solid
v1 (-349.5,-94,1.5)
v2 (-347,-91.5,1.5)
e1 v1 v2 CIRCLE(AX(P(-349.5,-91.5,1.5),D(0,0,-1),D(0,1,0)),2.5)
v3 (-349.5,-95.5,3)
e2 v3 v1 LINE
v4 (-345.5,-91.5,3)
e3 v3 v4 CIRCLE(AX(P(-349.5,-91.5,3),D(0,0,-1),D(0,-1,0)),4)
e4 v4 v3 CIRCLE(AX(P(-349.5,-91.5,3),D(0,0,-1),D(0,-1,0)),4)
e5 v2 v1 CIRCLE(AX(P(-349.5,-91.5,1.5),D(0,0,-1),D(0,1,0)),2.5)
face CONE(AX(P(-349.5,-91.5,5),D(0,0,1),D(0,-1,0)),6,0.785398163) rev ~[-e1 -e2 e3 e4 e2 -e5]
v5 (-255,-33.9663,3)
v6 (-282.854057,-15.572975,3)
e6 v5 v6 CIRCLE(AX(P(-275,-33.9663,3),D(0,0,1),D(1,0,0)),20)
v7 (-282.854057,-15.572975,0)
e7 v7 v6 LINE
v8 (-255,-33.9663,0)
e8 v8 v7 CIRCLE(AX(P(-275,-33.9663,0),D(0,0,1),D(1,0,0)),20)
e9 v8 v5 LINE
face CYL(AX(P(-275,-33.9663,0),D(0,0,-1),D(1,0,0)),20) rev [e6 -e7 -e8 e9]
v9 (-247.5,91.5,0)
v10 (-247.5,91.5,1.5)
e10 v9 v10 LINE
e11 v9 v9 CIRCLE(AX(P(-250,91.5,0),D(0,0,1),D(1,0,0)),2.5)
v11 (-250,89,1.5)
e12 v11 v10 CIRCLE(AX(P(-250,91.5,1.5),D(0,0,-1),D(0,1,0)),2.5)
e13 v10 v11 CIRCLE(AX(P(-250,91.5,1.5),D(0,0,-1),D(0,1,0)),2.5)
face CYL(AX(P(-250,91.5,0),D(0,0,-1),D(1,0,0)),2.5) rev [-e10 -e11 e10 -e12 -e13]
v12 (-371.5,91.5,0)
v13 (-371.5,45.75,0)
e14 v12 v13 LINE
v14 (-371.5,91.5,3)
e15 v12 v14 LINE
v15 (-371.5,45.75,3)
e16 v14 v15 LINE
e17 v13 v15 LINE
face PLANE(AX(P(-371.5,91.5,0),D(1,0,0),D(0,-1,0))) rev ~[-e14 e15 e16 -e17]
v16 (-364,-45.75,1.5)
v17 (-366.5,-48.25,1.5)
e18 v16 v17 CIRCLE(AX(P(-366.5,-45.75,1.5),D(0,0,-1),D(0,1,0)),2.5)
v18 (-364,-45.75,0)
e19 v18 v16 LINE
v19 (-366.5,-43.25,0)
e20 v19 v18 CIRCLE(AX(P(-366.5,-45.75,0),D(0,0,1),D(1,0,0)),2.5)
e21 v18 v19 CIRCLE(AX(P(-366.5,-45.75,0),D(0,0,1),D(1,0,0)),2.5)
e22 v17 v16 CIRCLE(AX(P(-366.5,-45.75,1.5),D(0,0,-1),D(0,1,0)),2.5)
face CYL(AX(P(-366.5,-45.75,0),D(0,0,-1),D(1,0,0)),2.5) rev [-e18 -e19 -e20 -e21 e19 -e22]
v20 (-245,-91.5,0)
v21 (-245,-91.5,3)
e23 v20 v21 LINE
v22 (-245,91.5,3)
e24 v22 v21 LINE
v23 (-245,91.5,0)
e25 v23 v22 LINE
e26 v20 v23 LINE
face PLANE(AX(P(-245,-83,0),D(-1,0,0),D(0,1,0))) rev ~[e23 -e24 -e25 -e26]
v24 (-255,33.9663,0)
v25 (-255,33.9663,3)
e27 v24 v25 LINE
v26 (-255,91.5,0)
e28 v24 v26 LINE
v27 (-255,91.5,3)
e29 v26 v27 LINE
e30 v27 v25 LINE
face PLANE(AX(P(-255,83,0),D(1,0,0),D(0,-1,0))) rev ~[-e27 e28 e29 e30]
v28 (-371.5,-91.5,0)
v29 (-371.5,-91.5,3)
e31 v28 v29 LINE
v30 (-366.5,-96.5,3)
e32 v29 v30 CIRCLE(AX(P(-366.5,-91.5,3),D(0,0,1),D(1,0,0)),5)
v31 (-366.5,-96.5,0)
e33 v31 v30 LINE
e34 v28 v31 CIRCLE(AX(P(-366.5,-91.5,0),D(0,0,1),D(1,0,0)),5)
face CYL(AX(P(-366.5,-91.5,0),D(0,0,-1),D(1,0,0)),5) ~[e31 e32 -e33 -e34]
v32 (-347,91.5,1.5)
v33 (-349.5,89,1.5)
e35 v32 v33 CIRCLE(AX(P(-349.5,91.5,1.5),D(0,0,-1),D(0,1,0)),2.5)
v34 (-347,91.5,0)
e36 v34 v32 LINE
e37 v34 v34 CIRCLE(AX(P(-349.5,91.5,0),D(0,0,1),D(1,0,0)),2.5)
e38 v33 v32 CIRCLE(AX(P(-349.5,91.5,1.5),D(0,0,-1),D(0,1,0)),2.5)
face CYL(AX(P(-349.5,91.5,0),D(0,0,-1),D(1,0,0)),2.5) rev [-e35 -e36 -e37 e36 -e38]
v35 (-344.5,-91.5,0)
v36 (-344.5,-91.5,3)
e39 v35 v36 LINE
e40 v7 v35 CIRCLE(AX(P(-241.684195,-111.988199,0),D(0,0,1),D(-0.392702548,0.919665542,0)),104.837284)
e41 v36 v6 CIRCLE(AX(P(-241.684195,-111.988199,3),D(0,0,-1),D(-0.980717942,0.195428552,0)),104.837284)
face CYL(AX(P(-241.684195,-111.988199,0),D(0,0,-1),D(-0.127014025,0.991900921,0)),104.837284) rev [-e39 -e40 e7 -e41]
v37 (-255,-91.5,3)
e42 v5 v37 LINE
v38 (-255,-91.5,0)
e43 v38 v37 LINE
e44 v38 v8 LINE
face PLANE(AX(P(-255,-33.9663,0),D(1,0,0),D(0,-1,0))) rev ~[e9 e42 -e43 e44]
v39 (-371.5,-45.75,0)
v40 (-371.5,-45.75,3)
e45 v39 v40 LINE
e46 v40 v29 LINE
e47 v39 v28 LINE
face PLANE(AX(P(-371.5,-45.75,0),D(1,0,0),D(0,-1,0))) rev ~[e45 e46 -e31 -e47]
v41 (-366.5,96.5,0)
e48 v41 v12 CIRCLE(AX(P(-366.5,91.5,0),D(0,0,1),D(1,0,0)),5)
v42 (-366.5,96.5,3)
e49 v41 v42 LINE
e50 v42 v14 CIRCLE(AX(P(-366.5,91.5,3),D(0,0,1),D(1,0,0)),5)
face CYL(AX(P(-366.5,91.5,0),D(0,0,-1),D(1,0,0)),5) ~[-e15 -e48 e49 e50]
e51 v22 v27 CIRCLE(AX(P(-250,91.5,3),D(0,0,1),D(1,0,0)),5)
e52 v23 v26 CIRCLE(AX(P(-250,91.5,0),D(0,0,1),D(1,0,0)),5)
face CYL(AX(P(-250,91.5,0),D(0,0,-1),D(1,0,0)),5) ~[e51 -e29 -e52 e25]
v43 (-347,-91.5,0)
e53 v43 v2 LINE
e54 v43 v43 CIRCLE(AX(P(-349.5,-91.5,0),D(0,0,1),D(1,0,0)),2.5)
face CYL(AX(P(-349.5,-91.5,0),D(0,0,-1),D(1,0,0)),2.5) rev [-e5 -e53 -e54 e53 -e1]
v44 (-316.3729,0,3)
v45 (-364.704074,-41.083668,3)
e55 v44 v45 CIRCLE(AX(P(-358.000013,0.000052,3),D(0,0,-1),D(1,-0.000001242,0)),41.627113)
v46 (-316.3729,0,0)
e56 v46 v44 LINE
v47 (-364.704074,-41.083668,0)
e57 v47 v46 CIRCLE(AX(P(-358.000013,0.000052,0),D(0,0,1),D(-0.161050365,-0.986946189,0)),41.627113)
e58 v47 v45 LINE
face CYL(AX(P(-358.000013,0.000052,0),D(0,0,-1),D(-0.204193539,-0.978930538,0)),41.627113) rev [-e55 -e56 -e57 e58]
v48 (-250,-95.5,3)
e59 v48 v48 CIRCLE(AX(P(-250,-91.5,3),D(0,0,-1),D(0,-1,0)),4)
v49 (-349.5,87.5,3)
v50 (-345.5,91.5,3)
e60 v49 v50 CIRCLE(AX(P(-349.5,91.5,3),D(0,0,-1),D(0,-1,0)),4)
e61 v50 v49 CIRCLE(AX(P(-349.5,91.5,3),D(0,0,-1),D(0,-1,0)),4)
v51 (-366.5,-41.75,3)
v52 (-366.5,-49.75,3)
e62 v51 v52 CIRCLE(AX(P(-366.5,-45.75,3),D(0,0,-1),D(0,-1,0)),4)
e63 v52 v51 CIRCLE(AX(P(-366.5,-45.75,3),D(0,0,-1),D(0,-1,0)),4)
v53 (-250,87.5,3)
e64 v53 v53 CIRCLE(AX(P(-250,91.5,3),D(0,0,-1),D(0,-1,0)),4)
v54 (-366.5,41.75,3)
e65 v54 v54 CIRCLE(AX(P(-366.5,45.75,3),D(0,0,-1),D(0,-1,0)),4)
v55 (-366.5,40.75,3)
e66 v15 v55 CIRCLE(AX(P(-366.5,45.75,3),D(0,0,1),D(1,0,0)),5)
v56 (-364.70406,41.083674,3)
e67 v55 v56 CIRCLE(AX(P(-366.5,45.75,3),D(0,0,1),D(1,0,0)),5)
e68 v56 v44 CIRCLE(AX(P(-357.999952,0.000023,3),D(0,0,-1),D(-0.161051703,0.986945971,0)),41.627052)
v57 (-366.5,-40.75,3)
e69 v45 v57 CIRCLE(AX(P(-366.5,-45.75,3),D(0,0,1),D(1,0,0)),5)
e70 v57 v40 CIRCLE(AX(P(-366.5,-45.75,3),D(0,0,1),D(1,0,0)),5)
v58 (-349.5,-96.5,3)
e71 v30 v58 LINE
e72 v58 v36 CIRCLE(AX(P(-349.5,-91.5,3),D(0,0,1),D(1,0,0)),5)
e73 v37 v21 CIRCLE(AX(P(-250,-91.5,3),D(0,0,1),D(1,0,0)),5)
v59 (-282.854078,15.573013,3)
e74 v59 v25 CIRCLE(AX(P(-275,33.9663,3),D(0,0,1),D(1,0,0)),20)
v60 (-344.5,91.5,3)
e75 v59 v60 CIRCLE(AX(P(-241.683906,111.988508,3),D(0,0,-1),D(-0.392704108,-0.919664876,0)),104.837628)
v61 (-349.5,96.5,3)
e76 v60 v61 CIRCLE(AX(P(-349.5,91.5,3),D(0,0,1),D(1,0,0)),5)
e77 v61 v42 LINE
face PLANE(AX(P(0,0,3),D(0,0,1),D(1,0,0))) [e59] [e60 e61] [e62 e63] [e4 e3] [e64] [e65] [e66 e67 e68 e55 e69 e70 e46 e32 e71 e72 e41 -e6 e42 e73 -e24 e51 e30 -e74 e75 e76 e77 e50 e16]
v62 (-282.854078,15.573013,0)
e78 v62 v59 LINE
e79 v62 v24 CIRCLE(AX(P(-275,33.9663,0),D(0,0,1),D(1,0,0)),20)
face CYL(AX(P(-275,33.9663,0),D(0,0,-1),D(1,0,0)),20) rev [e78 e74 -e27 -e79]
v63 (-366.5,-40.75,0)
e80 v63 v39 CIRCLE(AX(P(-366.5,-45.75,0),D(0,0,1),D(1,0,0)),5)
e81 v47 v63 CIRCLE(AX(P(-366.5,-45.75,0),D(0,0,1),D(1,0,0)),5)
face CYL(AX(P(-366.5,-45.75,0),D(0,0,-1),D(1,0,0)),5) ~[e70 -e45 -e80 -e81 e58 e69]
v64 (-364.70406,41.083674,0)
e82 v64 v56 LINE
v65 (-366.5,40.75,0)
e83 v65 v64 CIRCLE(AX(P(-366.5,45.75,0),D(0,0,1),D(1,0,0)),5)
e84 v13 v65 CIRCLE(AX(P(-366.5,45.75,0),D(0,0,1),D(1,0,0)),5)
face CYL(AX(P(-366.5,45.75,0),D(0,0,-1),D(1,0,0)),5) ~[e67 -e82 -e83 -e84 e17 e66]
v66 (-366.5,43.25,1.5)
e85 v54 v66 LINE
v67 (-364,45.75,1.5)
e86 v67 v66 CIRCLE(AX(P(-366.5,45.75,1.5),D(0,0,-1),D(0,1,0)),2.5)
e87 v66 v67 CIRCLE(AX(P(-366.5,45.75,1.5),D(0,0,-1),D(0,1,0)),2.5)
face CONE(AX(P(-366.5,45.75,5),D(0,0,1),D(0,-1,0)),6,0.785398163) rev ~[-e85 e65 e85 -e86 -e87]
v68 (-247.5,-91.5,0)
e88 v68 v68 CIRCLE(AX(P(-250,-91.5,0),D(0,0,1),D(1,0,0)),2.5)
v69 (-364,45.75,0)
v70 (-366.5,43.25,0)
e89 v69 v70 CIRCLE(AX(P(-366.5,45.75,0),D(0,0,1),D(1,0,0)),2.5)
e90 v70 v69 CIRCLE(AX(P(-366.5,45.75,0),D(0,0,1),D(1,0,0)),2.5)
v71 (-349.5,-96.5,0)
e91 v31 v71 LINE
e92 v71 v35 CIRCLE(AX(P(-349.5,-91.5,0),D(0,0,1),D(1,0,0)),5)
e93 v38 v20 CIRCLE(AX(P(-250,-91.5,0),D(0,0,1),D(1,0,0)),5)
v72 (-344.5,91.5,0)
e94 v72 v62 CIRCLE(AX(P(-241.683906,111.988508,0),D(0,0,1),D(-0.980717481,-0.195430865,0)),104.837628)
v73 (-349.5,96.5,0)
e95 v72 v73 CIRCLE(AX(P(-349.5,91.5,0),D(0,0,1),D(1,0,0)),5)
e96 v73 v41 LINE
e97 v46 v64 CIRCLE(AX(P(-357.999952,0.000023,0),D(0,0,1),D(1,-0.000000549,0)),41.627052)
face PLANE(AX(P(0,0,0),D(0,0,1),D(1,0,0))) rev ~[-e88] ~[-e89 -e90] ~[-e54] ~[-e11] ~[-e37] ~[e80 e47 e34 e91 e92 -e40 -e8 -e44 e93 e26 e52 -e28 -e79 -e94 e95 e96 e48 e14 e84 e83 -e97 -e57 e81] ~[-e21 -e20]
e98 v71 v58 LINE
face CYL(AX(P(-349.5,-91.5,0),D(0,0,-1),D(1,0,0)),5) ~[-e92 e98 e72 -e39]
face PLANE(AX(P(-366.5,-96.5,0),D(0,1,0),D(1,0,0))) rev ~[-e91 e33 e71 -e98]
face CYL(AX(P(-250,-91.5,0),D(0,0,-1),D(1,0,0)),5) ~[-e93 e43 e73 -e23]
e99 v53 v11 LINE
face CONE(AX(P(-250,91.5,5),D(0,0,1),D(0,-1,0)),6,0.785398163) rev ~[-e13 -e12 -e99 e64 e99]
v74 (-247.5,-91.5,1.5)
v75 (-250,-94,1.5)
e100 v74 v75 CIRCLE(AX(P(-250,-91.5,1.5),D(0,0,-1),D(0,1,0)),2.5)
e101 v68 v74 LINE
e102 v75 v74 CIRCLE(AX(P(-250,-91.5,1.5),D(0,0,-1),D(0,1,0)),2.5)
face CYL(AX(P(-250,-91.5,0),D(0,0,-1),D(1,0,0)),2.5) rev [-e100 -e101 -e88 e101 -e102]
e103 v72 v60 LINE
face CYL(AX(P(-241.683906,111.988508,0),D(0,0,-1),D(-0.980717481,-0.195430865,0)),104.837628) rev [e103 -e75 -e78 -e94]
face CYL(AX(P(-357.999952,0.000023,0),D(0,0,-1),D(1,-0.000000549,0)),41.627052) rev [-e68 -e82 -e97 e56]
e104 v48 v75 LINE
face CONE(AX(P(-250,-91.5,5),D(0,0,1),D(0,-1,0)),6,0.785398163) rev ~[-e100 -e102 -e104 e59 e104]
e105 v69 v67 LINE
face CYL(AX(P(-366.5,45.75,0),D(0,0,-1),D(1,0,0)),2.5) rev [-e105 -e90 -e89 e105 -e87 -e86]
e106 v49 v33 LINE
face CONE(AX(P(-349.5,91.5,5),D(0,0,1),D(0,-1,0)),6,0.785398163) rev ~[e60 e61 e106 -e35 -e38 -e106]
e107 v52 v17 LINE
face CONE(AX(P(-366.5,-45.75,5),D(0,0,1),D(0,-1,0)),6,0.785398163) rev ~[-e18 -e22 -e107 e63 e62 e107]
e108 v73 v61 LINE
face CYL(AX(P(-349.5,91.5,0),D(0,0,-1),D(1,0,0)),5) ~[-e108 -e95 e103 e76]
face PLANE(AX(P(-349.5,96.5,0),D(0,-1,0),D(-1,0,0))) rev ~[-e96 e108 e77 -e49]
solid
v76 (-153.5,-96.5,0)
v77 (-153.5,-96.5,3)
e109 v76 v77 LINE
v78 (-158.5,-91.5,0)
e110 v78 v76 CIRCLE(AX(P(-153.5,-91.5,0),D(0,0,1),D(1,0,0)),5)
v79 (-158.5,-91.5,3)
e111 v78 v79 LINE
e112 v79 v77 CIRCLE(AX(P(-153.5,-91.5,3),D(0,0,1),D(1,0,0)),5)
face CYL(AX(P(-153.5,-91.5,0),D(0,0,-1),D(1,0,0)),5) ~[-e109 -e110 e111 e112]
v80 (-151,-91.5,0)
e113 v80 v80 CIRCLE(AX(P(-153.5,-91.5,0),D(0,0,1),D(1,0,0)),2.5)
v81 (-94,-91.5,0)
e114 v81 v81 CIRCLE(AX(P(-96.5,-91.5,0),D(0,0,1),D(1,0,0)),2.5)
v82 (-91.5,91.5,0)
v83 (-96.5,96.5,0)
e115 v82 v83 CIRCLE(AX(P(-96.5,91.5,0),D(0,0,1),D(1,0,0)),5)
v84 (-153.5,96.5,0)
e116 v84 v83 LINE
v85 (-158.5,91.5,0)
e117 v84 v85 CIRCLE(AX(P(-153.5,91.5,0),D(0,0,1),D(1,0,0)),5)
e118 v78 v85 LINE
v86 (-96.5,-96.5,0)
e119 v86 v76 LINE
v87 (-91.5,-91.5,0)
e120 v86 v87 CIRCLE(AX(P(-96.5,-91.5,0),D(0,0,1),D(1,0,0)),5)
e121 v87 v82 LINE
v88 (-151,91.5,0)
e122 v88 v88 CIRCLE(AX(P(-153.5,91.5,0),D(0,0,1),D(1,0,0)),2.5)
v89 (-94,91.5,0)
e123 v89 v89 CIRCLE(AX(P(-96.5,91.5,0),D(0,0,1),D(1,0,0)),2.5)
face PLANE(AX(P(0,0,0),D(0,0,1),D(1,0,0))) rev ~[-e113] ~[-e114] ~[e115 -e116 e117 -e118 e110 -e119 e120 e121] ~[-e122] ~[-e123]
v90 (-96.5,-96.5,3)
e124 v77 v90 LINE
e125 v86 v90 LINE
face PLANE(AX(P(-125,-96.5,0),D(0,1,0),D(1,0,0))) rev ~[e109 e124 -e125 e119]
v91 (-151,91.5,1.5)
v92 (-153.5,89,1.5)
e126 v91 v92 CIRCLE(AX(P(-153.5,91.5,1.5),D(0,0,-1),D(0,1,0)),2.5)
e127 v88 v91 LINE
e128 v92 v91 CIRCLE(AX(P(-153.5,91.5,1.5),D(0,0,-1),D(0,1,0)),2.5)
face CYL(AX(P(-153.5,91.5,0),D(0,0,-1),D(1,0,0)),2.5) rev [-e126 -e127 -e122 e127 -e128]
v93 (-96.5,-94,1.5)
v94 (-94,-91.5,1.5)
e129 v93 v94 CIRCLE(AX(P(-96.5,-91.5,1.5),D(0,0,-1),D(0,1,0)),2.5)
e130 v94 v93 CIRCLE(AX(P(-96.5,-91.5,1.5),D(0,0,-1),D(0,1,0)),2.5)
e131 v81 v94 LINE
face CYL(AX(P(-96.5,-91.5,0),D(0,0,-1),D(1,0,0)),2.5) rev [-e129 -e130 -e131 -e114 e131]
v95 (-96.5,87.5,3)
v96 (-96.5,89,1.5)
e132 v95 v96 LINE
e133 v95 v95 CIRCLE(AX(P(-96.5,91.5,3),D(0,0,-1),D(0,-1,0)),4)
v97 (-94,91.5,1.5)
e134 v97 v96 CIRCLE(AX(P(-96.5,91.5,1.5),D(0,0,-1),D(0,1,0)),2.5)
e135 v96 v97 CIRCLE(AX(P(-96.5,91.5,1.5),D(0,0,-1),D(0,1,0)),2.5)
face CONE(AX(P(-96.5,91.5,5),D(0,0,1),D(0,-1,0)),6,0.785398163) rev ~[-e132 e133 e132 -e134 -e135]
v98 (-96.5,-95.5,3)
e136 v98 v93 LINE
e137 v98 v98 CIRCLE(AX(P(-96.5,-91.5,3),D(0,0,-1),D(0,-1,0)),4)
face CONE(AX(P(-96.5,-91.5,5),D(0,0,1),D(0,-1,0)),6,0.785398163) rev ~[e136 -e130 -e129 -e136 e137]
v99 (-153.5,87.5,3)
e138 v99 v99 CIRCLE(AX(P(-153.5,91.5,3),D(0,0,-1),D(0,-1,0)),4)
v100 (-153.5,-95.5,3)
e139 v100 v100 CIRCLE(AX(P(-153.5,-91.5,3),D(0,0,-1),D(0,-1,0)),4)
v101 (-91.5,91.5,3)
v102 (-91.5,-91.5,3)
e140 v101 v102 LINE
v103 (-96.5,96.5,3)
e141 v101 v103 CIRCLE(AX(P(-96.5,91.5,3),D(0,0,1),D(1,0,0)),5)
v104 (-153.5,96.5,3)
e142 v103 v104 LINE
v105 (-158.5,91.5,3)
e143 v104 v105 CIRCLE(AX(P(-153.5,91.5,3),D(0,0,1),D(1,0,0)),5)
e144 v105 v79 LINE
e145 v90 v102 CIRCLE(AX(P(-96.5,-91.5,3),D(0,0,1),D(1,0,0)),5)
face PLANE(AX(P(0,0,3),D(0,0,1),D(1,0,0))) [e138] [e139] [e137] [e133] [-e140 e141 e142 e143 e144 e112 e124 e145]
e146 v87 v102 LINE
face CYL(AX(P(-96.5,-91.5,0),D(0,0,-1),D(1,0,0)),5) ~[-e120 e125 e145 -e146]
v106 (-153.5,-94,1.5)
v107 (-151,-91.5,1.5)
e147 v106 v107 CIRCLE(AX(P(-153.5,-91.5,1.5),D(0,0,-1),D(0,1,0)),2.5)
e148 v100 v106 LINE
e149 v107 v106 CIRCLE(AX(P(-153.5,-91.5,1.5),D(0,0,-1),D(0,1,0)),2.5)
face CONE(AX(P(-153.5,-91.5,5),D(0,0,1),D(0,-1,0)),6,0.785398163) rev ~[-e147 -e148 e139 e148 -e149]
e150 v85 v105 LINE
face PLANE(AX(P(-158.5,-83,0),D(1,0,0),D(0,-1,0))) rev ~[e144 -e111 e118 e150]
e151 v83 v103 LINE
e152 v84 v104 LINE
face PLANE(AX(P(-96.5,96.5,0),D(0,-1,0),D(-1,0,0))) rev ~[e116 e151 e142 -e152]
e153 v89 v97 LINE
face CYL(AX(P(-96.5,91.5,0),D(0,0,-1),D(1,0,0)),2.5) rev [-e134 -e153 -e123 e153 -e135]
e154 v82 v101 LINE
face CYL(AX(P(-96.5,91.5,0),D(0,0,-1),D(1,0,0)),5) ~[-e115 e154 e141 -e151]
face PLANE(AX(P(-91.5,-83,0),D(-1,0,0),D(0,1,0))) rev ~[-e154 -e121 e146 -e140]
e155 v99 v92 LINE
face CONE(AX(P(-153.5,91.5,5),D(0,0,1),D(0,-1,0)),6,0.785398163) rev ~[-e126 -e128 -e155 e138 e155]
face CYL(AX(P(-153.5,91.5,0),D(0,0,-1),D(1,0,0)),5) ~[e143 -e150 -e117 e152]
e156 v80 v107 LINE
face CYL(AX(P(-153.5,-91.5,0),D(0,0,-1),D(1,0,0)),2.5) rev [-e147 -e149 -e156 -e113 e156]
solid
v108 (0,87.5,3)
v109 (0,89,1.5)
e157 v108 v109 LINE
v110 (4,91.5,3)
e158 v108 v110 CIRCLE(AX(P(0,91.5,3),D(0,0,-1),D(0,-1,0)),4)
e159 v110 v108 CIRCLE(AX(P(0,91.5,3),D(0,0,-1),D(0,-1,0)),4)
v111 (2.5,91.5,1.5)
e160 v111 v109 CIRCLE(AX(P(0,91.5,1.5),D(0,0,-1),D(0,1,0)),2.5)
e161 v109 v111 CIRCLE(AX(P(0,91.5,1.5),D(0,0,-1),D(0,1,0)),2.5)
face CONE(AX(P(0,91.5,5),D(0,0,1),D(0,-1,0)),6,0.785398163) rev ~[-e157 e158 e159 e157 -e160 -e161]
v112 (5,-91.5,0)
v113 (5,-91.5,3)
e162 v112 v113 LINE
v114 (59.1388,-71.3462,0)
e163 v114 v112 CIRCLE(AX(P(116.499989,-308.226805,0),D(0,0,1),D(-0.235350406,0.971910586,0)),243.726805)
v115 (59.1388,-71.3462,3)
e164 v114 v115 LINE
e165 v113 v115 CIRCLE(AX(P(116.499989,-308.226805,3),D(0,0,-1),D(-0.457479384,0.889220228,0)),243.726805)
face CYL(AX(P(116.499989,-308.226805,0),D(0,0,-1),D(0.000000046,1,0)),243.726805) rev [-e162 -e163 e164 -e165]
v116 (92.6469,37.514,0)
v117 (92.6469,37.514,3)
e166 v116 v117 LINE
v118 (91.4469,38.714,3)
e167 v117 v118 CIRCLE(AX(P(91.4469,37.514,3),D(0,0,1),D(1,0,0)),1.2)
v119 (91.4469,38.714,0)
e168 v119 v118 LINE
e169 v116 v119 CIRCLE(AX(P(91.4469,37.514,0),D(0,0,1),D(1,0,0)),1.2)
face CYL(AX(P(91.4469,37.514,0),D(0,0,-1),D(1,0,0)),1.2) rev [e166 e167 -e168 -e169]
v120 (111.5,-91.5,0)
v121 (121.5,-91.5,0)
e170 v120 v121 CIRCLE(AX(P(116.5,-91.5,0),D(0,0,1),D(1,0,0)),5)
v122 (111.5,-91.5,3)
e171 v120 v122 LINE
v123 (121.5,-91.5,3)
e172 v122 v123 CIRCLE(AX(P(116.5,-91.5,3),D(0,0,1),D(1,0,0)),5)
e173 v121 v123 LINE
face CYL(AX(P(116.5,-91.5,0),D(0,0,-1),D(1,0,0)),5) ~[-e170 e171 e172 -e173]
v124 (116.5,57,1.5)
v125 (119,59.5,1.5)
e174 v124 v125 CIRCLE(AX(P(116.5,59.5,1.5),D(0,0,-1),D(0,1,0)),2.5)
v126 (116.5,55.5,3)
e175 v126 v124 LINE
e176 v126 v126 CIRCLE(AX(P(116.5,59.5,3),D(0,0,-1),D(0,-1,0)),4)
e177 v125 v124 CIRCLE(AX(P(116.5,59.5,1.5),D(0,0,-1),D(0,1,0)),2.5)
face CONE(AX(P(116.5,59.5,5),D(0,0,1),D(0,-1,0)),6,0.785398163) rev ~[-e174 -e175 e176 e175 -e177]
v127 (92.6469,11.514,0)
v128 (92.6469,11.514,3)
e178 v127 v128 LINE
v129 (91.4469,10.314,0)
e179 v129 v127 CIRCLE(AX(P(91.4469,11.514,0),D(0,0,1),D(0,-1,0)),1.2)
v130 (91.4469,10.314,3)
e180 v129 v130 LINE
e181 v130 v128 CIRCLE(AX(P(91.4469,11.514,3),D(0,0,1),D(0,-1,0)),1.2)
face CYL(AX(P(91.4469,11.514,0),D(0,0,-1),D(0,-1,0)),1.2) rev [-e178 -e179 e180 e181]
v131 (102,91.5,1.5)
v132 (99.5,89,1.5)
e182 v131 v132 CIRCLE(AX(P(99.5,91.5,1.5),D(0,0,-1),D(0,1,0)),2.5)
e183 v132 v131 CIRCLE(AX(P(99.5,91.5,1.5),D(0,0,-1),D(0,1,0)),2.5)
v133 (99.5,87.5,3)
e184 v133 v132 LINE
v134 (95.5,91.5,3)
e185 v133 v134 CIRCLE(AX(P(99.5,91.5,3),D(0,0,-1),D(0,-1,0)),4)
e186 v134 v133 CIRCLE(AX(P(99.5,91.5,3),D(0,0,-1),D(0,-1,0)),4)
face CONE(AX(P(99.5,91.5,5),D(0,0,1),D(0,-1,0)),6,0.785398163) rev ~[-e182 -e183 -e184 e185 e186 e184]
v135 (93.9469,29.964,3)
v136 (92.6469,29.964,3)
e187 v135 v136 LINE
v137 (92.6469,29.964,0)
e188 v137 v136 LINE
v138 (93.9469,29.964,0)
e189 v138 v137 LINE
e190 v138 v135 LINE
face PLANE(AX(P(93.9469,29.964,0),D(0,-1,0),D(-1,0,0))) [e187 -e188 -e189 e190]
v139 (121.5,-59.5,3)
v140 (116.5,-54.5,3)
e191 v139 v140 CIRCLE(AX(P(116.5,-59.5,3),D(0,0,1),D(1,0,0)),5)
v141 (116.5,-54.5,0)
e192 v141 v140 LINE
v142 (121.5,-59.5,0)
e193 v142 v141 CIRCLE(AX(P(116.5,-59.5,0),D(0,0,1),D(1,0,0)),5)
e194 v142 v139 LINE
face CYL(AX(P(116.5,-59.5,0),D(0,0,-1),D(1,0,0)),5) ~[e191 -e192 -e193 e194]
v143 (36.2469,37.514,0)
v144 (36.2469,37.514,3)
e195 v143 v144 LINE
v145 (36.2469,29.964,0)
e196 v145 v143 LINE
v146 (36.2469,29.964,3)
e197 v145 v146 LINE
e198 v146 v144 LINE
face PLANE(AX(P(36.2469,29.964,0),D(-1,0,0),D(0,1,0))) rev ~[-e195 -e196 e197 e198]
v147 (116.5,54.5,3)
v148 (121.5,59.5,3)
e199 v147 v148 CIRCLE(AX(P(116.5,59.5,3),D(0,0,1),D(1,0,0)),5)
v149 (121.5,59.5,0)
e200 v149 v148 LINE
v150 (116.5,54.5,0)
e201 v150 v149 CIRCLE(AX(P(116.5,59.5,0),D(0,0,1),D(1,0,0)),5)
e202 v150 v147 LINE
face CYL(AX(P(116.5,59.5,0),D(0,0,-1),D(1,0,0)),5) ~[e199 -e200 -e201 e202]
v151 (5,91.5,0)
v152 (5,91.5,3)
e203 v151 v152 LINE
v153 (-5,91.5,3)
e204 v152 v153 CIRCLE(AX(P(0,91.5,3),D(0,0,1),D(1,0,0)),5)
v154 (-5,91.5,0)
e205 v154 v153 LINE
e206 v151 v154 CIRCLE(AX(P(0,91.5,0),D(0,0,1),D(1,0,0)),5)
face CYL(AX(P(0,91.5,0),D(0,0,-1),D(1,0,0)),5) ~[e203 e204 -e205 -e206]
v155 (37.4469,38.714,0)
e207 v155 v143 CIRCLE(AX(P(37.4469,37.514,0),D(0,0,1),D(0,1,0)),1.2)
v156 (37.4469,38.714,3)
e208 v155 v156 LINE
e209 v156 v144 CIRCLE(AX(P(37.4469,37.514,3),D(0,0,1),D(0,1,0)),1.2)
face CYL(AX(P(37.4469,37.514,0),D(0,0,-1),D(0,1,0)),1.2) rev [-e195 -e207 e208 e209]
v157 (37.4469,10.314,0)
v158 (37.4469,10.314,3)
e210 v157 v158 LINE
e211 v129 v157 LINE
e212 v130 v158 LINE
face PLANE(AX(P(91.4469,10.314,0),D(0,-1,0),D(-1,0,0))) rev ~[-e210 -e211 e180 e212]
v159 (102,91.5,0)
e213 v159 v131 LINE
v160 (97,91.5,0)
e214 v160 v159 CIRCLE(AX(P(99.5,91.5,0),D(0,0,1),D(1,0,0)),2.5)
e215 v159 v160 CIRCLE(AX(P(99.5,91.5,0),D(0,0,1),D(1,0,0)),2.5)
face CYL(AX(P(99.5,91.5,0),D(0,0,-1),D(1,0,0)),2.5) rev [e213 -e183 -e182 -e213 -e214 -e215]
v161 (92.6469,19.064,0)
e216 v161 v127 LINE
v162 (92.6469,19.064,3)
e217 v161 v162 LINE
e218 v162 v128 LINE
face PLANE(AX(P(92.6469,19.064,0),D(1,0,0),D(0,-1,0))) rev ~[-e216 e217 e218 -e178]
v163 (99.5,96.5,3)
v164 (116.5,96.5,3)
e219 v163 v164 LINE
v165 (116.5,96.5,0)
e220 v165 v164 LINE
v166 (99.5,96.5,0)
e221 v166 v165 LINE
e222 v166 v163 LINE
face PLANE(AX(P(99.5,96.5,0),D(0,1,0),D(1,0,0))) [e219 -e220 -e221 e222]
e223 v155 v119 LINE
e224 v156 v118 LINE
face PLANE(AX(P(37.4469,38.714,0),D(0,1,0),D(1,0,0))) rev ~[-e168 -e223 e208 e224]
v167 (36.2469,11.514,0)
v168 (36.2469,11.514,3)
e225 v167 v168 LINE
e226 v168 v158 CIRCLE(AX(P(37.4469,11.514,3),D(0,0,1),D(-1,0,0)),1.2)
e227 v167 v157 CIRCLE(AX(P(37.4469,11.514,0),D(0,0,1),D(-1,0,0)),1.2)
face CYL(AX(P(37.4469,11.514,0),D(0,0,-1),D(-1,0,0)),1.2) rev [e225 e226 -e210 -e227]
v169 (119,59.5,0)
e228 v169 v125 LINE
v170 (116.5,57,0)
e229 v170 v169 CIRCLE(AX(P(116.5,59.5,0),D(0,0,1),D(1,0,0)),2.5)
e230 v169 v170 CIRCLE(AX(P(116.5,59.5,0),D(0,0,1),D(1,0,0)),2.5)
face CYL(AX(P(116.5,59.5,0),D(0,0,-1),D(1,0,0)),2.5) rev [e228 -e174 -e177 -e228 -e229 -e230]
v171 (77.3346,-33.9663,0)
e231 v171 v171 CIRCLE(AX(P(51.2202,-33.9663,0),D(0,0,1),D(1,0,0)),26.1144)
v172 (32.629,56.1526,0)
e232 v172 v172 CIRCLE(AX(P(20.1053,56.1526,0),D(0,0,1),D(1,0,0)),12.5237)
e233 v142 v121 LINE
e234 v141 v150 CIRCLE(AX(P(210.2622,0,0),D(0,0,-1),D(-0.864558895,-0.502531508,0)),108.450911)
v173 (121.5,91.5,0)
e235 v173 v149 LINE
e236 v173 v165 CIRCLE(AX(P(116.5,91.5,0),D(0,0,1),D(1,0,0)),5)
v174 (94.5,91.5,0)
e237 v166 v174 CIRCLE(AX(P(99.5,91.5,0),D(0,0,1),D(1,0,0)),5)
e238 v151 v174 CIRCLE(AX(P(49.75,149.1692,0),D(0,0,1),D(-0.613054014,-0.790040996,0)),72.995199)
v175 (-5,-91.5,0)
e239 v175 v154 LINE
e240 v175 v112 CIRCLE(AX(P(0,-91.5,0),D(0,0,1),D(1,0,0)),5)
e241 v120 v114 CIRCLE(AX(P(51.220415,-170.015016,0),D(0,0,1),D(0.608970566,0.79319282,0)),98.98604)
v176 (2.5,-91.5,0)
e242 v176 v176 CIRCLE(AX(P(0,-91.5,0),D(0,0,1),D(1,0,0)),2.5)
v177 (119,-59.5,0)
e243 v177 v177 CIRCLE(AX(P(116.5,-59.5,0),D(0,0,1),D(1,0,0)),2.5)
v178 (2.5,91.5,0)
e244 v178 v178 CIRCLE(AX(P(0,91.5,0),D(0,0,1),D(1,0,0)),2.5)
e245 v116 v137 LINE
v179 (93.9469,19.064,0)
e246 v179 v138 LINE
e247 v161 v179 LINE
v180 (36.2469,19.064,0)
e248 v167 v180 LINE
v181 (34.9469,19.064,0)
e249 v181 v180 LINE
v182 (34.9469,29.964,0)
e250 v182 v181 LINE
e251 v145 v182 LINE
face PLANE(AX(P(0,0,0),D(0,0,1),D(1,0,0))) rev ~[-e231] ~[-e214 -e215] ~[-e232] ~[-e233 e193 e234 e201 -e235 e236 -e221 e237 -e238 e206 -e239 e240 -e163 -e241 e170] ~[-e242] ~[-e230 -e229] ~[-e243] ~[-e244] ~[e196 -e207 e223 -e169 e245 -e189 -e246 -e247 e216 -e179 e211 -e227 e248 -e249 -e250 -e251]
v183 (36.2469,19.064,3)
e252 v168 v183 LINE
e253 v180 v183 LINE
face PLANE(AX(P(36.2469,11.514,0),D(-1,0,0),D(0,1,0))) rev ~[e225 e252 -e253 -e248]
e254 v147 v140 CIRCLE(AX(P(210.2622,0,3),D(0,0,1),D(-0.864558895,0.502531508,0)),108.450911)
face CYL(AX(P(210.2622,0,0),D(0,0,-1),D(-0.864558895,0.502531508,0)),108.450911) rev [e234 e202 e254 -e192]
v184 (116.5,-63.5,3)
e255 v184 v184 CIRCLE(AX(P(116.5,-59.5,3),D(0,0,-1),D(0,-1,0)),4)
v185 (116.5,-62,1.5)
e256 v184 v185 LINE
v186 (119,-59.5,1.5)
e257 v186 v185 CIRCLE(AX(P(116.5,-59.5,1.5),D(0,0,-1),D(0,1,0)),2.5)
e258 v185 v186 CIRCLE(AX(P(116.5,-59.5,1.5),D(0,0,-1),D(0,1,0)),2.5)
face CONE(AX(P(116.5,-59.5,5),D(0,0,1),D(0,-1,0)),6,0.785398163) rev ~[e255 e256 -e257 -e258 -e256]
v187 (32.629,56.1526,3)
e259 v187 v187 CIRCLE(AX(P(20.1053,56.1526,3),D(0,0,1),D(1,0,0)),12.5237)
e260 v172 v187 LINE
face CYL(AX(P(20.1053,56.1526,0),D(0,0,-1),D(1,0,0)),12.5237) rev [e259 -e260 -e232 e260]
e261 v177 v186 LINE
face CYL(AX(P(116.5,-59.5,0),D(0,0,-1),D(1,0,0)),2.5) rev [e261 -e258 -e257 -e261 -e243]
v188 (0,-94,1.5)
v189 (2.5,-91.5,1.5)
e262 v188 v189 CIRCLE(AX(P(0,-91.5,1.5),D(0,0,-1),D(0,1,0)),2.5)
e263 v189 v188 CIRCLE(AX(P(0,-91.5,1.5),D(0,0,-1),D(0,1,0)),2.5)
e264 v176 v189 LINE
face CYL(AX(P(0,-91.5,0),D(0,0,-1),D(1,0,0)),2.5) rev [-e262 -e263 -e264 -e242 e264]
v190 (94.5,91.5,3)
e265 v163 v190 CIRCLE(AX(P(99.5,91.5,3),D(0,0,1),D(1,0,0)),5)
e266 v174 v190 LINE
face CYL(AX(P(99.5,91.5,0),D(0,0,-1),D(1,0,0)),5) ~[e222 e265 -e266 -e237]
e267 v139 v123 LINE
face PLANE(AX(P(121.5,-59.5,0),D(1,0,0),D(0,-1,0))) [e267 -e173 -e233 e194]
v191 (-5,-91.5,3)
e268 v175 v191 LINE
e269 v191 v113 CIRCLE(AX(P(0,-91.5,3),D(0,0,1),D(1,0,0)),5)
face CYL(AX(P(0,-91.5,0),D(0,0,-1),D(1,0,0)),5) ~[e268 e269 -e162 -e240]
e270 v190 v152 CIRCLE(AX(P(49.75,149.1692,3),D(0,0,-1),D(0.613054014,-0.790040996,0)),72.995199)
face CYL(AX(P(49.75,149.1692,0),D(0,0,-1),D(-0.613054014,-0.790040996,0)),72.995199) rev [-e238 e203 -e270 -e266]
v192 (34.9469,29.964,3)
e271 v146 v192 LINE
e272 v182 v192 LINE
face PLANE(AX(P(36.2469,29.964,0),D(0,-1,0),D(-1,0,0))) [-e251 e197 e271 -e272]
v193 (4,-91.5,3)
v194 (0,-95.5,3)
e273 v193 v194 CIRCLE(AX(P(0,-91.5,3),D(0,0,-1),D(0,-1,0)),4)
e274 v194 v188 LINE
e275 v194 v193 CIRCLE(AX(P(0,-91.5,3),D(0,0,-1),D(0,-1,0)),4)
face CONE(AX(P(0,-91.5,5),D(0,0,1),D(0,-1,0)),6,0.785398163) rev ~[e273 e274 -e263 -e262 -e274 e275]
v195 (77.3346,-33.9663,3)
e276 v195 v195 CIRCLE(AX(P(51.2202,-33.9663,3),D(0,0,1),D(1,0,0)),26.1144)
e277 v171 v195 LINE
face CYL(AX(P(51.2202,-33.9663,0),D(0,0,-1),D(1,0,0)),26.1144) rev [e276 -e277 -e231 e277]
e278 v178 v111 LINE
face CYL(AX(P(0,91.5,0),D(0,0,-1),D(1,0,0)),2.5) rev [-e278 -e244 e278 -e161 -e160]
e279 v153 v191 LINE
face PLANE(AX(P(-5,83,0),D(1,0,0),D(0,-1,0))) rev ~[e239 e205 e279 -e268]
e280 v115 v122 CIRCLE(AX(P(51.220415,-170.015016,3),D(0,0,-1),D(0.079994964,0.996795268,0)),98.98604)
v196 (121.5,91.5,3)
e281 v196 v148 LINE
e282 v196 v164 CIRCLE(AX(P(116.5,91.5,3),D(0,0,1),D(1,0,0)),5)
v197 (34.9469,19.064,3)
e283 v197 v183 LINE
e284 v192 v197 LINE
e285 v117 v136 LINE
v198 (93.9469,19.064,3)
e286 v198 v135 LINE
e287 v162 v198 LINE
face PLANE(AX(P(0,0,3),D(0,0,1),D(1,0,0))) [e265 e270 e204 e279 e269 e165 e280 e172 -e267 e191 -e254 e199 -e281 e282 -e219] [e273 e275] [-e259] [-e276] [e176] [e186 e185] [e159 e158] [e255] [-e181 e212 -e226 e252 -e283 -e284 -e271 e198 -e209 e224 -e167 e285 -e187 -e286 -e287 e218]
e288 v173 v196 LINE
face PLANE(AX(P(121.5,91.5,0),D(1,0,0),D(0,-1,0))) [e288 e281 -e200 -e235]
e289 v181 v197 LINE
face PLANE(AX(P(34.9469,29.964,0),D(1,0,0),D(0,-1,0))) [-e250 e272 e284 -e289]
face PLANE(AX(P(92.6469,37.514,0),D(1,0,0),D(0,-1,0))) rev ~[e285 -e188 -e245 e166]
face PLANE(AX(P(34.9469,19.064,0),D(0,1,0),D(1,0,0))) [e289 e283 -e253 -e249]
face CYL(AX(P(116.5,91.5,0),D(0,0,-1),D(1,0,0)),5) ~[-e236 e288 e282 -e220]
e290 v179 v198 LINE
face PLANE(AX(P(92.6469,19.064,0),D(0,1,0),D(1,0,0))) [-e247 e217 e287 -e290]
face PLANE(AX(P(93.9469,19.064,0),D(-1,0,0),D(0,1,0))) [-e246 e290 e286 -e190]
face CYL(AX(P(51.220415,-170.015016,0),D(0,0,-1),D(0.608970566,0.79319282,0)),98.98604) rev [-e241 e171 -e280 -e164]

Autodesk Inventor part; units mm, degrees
ref_plane "YZ Plane" through (0, 0, 0) normal (1, 0, 0) x (0, 1, 0)
ref_plane "Work Plane1" through (0, 0, 0) normal (0, 0, 1) x (1, 0, 0)
sketch "Sketch1" plane through (0, 0, 0) normal (0, 0, 1) x (1, 0, 0)
  circle A0 centre (116.5, 59.5) radius 1.5 projected
  circle A1 centre (-96.5, -91.5) radius 2.5 projected
  circle A2 centre (0, 91.5) radius 1.5 projected
  circle A3 centre (-96.5, 91.5) radius 1.5 projected
  circle A4 centre (0, -91.5) radius 1.5 projected
  circle A5 centre (99.5, 91.5) radius 1.5 projected
  circle A6 centre (116.5, -59.5) radius 1.5 projected
  line L0 (125, -100) -> (-125, -100) projected
  line L1 (125, 100) -> (125, -100) projected
  line L2 (-125, 100) -> (125, 100) projected
  line L3 (-125, 83) -> (-125, 100) projected
  line L4 (108, 83) -> (-125, 83) projected
  line L5 (108, -83) -> (108, 83) projected
  line L6 (-125, -83) -> (108, -83) projected
  line L7 (-125, -100) -> (-125, -83) projected
  circle A7 centre (-153.5, 91.5) radius 1.5 projected
  circle A8 centre (-250, -91.5) radius 1.5 projected
  circle A9 centre (-366.5, 45.75) radius 1.5 projected
  circle A10 centre (-349.5, -91.5) radius 1.5 projected
  circle A11 centre (-366.5, -45.75) radius 1.5 projected
  circle A12 centre (-349.5, 91.5) radius 1.5 projected
  circle A13 centre (-153.5, -91.5) radius 1.5 projected
  circle A14 centre (-250, 91.5) radius 1.5 projected
  line L8 (-375, 100) -> (-375, -100) projected
  line L9 (-375, -100) -> (-125, -100) projected
  line L10 (-125, -100) -> (-125, -83) projected
  line L11 (-125, -83) -> (-358, -83) projected
  line L12 (-358, -83) -> (-358, 83) projected
  line L13 (-358, 83) -> (-125, 83) projected
  line L14 (-125, 83) -> (-125, 100) projected
  line L15 (-125, 100) -> (-375, 100) projected
  circle A15 centre (-96.5, 91.5) radius 5
  circle A16 centre (-96.5, -91.5) radius 5
  circle A17 centre (0, -91.5) radius 5
  circle A18 centre (116.5, -59.5) radius 5
  circle A19 centre (116.5, 59.5) radius 5
  circle A20 centre (99.5, 91.5) radius 5
  circle A21 centre (0, 91.5) radius 5
  circle A22 centre (-153.5, 91.5) radius 5
  circle A23 centre (-153.5, -91.5) radius 5
  circle A24 centre (-250, -91.5) radius 5
  circle A25 centre (-349.5, -91.5) radius 5
  circle A26 centre (-366.5, -45.75) radius 5
  circle A27 centre (-366.5, 45.75) radius 5
  circle A28 centre (-349.5, 91.5) radius 5
  circle A29 centre (-250, 91.5) radius 5
  line L16 (-96.5, 96.5) -> (-153.5, 96.5)
  line L17 (-158.5, 91.5) -> (-158.5, -91.5)
  line L18 (-153.5, -96.5) -> (-96.5, -96.5)
  line L19 (-91.5, -91.5) -> (-91.5, 91.5)
  line L20 (-125, 83) -> (-125, -83) construction
  line L21 (-143.5, 64.5) -> (-143.5, -64.5)
  line L22 (-106.5, -64.5) -> (-106.5, 64.5)
  arc A30 (-106.5, 64.5) -> (-143.5, 64.5) centre (-125, 64.5) ccw
  arc A31 (-143.5, -64.5) -> (-106.5, -64.5) centre (-125, -64.5) ccw
  line L23 (-255, 91.5) -> (-255, -91.5)
  line L24 (-245, -91.5) -> (-245, 91.5)
  circle A32 centre (-366.5, 91.5) radius 5
  circle A33 centre (-366.5, -91.5) radius 5
  circle A34 centre (-366.5, 91.5) radius 0.5 projected
  circle A35 centre (-366.5, -91.5) radius 0.5 projected
  line L25 (-349.5, 96.5) -> (-366.5, 96.5)
  line L26 (-371.5, 91.5) -> (-371.5, 45.75)
  line L27 (-371.5, -45.75) -> (-371.5, -91.5)
  line L28 (-366.5, -96.5) -> (-349.5, -96.5)
  arc A36 (-255, -8) -> (-344.5, -91.5) centre (-241.6841, -111.9884) ccw
  arc A37 (-344.5, 91.5) -> (-255, 8) centre (-241.6841, 111.9884) ccw
  line L29 (-366.5, 45.75) -> (-366.5, 40.75)
  line L30 (-366.5, -45.75) -> (-366.5, -40.75)
  line L31 (-349.5, 91.5) -> (-344.5, 91.5)
  line L32 (-349.5, -91.5) -> (-344.5, -91.5)
  line L33 (-255, 0) -> (-316.3729, 0) construction
  arc A38 (-316.3729, 0) -> (-366.5, 40.75) centre (-358, 0) ccw
  arc A39 (-366.5, -40.75) -> (-316.3729, 0) centre (-358, 0) ccw
  circle A40 centre (-275, 33.9663) radius 20
  circle A41 centre (-275, -33.9663) radius 20
  circle A42 centre (-153.5, -91.5) radius 2.5 projected
  circle A43 centre (-96.5, 91.5) radius 2.5 projected
  circle A44 centre (-153.5, 91.5) radius 2.5 projected
  circle A45 centre (-250, 91.5) radius 2.5 projected
  circle A46 centre (-250, -91.5) radius 2.5 projected
  circle A47 centre (-349.5, -91.5) radius 2.5 projected
  circle A48 centre (-349.5, 91.5) radius 2.5 projected
  circle A49 centre (-366.5, 45.75) radius 2.5 projected
  circle A50 centre (-366.5, -45.75) radius 2.5 projected
  line L34 (-241.6841, 111.9884) -> (-241.6841, -111.9884) construction
  line L35 (-5, 91.5) -> (-5, -91.5)
  arc A51 (5, 91.5) -> (94.5, 91.5) centre (49.75, 149.1692) ccw
  arc A52 (116.5, -64.5) -> (5, -91.5) centre (116.5, -308.2269) ccw
  line L36 (116.5, -64.5) -> (116.5, -59.5)
  line L37 (5, -91.5) -> (0, -91.5)
  line L38 (99.5, 91.5) -> (94.5, 91.5)
  line L39 (0, 91.5) -> (5, 91.5)
  circle A53 centre (116.5, 91.5) radius 0.5 projected
  circle A54 centre (116.5, 91.5) radius 5
  line L40 (99.5, 96.5) -> (116.5, 96.5)
  line L41 (121.5, 91.5) -> (121.5, 59.5)
  arc A55 (116.5, 54.5) -> (116.5, -54.5) centre (210.2622, 0) ccw
  circle A56 centre (0, 91.5) radius 2.5 projected
  circle A57 centre (99.5, 91.5) radius 2.5 projected
  circle A58 centre (116.5, 59.5) radius 2.5 projected
  circle A59 centre (116.5, -59.5) radius 2.5 projected
  circle A60 centre (0, -91.5) radius 2.5 projected
  line L42 (116.5, -59.5) -> (116.5, -54.5)
  line L43 (116.5, 59.5) -> (116.5, 54.5)
  circle A61 centre (116.5, -91.5) radius 0.5 projected
  circle A62 centre (116.5, -91.5) radius 5
  line L44 (121.5, -59.5) -> (121.5, -91.5)
  arc A63 (111.5, -91.5) -> (59.1388, -71.3462) centre (51.2202, -170.0154) ccw
  line L45 (94.9469, 40.014) -> (94.9469, 9.014) projected
  arc A64 (93.9469, 8.014) -> (94.9469, 9.014) centre (93.9469, 9.014) ccw projected
  line L46 (93.9469, 8.014) -> (34.9469, 8.014) projected
  arc A65 (33.9469, 9.014) -> (34.9469, 8.014) centre (34.9469, 9.014) ccw projected
  line L47 (33.9469, 9.014) -> (33.9469, 40.014) projected
  arc A66 (34.9469, 41.014) -> (33.9469, 40.014) centre (34.9469, 40.014) ccw projected
  line L48 (34.9469, 41.014) -> (93.9469, 41.014) projected
  arc A67 (94.9469, 40.014) -> (93.9469, 41.014) centre (93.9469, 40.014) ccw projected
  line L49 (36.4469, 11.514) -> (36.4469, 37.514) projected
  arc A68 (36.4469, 11.514) -> (37.4469, 10.514) centre (37.4469, 11.514) ccw projected
  line L50 (91.4469, 10.514) -> (37.4469, 10.514) projected
  arc A69 (91.4469, 10.514) -> (92.4469, 11.514) centre (91.4469, 11.514) ccw projected
  line L51 (92.4469, 37.514) -> (92.4469, 11.514) projected
  arc A70 (92.4469, 37.514) -> (91.4469, 38.514) centre (91.4469, 37.514) ccw projected
  line L52 (37.4469, 38.514) -> (91.4469, 38.514) projected
  arc A71 (37.4469, 38.514) -> (36.4469, 37.514) centre (37.4469, 37.514) ccw projected
  line L53 (35.1469, 19.264) -> (35.1469, 29.764) projected
  line L54 (35.1469, 29.764) -> (36.4469, 29.764) projected
  line L55 (36.4469, 19.264) -> (36.4469, 29.764) projected
  line L56 (35.1469, 19.264) -> (36.4469, 19.264) projected
  line L57 (92.4469, 19.264) -> (92.4469, 29.764) projected
  line L58 (92.4469, 29.764) -> (93.7469, 29.764) projected
  line L59 (93.7469, 19.264) -> (93.7469, 29.764) projected
  line L60 (92.4469, 19.264) -> (93.7469, 19.264) projected
  arc A72 (36.2469, 11.514) -> (37.4469, 10.314) centre (37.4469, 11.514) ccw
  line L61 (36.2469, 11.514) -> (36.2469, 37.514)
  arc A73 (37.4469, 38.714) -> (36.2469, 37.514) centre (37.4469, 37.514) ccw
  line L62 (37.4469, 38.714) -> (91.4469, 38.714)
  arc A74 (92.6469, 37.514) -> (91.4469, 38.714) centre (91.4469, 37.514) ccw
  line L63 (92.6469, 37.514) -> (92.6469, 11.514)
  arc A75 (91.4469, 10.314) -> (92.6469, 11.514) centre (91.4469, 11.514) ccw
  line L64 (91.4469, 10.314) -> (37.4469, 10.314)
  line L65 (93.9469, 29.964) -> (92.2469, 29.964)
  line L66 (92.2469, 29.964) -> (92.2469, 19.064)
  line L67 (92.2469, 19.064) -> (93.9469, 19.064)
  line L68 (93.9469, 19.064) -> (93.9469, 29.964)
  line L69 (34.9469, 29.964) -> (34.9469, 19.064)
  line L70 (34.9469, 19.064) -> (36.6469, 19.064)
  line L71 (36.6469, 19.064) -> (36.6469, 29.964)
  line L72 (36.6469, 29.964) -> (34.9469, 29.964)
  circle A76 centre (51.2202, -33.9663) radius 26.1144
  circle A77 centre (20.1053, 56.1526) radius 12.5237
  point P0 (0, 0)
  point P1 (-125, 0)
  point P2 (-282.8541, -15.573)
  point P3 (-255, -33.9663)
  point P4 (-255, 33.9663)
  point P5 (-282.8541, 15.573)
  point P6 (-364.7041, 41.0837)
  point P7 (-282.8546, -15.5768)
  point P8 (-282.8549, 15.572)
  point P9 (-364.7041, -41.0837)
  point P10 (-358, -41.6271)
  point P11 (-342.4341, -83)
  point P12 (-342.4341, 83)
  point P13 (-358, 41.6271)
  point P14 (115.5177, -54.5974)
  point P15 (36.2469, 19.064)
  point P16 (36.2469, 29.964)
  point P17 (92.6469, 29.964)
  point P18 (92.6469, 19.064)
  dimension "d0" = 10
  dimension "d1" = 10
  dimension "d2" = 10
  dimension "d3" = 10
  dimension "d4" = 10
  dimension "d5" = 10
  dimension "d6" = 10
  dimension "d7" = 10
  dimension "d8" = 10
  dimension "d9" = 10
  dimension "d10" = 10
  dimension "d11" = 10
  dimension "d12" = 10
  dimension "d13" = 10
  dimension "d14" = 10
  dimension "d15" = 15
  dimension "d16" = 10
  dimension "d17" = 10
  dimension "d18" = 8
  dimension "d19" = 8
  dimension "d20" = 0
  dimension "d25" = 15
  dimension "d26" = 111.9883
  dimension "d27" = 111.9883
  dimension "d28" = 40
  dimension "d29" = 40
  dimension "d32" = 10
  dimension "d33" = 10
  dimension "d41" = 0.2
  dimension "d42" = 0.2
  dimension "d43" = 0.2
extrude "Extrusion1" add sketch "Sketch1" along normal blind 3 contours A19 | A55 L5 L4 A51 A20 L40 A54 L41 A19 | A55 L5 A52 L6 L35 L4 A51 | A54 | A55 A18 A52 L5 | A52 A18 L44 A62 A63 L6 L5 | L5 L6 A63 A52 | L42 A59 L36 A18 | A18 L36 A59 L42 | A20 | L4 L35 A21 A51 | A52 A17 L35 L6 | A62 | A21 | A17 | L19 L6 A31 L22 A30 L4 | L4 L3 L16 A15 L19 | L19 A16 L18 L7 L6 | L13 L17 A22 L16 L3 | A30 L21 A31 L11 L17 L13 | A30 L22 A31 L21 | A15 | L7 L18 A23 L17 L11 | A16 | A22 | L24 L11 L23 L13 | L13 L23 A29 L24 | A23 | L24 A24 L23 L11 | A29 | A24 | A37 L23 A36 L11 L12 A39 A38 L13 | L13 L12 A38 A27 L26 A32 L25 A28 A37 | L23 A37 A40 | A36 A25 L28 A33 L27 A26 A39 L12 L11 | A41 A36 L23 | A28 | A25 | A38 A27 | A27 A38 | A32 | A39 A26 | A26 A39 | A33 | A34 | A35 | A53 | A61 | L45 A64 L46 A65 L47 A66 L48 A67
ref_plane "Work Plane2" through (-125, 0, 5) normal (0, 0, 1) x (1, 0, 0)
sketch "Sketch2" plane through (-125, 0, 5) normal (0, 0, 1) x (1, 0, 0)
  circle A0 centre (241.5, -59.5) radius 2.5 projected
  circle A1 centre (125, -91.5) radius 2.5 projected
  circle A2 centre (125, 91.5) radius 2.5 projected
  circle A3 centre (224.5, 91.5) radius 2.5 projected
  circle A4 centre (241.5, 59.5) radius 2.5 projected
  circle A5 centre (28.5, -91.5) radius 2.5 projected
  circle A6 centre (-28.5, -91.5) radius 2.5 projected
  circle A7 centre (-28.5, 91.5) radius 2.5 projected
  circle A8 centre (28.5, 91.5) radius 2.5 projected
  circle A9 centre (-125, -91.5) radius 2.5 projected
  circle A10 centre (-224.5, -91.5) radius 2.5 projected
  circle A11 centre (-224.5, 91.5) radius 2.5 projected
  circle A12 centre (-241.5, 45.75) radius 2.5 projected
  circle A13 centre (-241.5, -45.75) radius 2.5 projected
  circle A14 centre (-125, 91.5) radius 2.5 projected
  point P0 (125, 0)
hole "Hole1" at (116.5, -59.5, 5) at (0, -91.5, 5) at (0, 91.5, 5) at (99.5, 91.5, 5) at (116.5, 59.5, 5) at (-96.5, -91.5, 5) at (-153.5, -91.5, 5) at (-153.5, 91.5, 5) at (-96.5, 91.5, 5) at (-250, 91.5, 5) at (-349.5, 91.5, 5) at (-366.5, 45.75, 5) at (-366.5, -45.75, 5) at (-349.5, -91.5, 5) at (-250, -91.5, 5) direction (0, 0, -1) diameter 4.5 end through all countersink diameter 12 countersink angle 90 clearance for "Countersunk Flat Head Screw ISO 2009/7046" size "M4" standard "ISO"
equation "\"d19\" = d18"
properties part number "petg_skeleton_ceil"
